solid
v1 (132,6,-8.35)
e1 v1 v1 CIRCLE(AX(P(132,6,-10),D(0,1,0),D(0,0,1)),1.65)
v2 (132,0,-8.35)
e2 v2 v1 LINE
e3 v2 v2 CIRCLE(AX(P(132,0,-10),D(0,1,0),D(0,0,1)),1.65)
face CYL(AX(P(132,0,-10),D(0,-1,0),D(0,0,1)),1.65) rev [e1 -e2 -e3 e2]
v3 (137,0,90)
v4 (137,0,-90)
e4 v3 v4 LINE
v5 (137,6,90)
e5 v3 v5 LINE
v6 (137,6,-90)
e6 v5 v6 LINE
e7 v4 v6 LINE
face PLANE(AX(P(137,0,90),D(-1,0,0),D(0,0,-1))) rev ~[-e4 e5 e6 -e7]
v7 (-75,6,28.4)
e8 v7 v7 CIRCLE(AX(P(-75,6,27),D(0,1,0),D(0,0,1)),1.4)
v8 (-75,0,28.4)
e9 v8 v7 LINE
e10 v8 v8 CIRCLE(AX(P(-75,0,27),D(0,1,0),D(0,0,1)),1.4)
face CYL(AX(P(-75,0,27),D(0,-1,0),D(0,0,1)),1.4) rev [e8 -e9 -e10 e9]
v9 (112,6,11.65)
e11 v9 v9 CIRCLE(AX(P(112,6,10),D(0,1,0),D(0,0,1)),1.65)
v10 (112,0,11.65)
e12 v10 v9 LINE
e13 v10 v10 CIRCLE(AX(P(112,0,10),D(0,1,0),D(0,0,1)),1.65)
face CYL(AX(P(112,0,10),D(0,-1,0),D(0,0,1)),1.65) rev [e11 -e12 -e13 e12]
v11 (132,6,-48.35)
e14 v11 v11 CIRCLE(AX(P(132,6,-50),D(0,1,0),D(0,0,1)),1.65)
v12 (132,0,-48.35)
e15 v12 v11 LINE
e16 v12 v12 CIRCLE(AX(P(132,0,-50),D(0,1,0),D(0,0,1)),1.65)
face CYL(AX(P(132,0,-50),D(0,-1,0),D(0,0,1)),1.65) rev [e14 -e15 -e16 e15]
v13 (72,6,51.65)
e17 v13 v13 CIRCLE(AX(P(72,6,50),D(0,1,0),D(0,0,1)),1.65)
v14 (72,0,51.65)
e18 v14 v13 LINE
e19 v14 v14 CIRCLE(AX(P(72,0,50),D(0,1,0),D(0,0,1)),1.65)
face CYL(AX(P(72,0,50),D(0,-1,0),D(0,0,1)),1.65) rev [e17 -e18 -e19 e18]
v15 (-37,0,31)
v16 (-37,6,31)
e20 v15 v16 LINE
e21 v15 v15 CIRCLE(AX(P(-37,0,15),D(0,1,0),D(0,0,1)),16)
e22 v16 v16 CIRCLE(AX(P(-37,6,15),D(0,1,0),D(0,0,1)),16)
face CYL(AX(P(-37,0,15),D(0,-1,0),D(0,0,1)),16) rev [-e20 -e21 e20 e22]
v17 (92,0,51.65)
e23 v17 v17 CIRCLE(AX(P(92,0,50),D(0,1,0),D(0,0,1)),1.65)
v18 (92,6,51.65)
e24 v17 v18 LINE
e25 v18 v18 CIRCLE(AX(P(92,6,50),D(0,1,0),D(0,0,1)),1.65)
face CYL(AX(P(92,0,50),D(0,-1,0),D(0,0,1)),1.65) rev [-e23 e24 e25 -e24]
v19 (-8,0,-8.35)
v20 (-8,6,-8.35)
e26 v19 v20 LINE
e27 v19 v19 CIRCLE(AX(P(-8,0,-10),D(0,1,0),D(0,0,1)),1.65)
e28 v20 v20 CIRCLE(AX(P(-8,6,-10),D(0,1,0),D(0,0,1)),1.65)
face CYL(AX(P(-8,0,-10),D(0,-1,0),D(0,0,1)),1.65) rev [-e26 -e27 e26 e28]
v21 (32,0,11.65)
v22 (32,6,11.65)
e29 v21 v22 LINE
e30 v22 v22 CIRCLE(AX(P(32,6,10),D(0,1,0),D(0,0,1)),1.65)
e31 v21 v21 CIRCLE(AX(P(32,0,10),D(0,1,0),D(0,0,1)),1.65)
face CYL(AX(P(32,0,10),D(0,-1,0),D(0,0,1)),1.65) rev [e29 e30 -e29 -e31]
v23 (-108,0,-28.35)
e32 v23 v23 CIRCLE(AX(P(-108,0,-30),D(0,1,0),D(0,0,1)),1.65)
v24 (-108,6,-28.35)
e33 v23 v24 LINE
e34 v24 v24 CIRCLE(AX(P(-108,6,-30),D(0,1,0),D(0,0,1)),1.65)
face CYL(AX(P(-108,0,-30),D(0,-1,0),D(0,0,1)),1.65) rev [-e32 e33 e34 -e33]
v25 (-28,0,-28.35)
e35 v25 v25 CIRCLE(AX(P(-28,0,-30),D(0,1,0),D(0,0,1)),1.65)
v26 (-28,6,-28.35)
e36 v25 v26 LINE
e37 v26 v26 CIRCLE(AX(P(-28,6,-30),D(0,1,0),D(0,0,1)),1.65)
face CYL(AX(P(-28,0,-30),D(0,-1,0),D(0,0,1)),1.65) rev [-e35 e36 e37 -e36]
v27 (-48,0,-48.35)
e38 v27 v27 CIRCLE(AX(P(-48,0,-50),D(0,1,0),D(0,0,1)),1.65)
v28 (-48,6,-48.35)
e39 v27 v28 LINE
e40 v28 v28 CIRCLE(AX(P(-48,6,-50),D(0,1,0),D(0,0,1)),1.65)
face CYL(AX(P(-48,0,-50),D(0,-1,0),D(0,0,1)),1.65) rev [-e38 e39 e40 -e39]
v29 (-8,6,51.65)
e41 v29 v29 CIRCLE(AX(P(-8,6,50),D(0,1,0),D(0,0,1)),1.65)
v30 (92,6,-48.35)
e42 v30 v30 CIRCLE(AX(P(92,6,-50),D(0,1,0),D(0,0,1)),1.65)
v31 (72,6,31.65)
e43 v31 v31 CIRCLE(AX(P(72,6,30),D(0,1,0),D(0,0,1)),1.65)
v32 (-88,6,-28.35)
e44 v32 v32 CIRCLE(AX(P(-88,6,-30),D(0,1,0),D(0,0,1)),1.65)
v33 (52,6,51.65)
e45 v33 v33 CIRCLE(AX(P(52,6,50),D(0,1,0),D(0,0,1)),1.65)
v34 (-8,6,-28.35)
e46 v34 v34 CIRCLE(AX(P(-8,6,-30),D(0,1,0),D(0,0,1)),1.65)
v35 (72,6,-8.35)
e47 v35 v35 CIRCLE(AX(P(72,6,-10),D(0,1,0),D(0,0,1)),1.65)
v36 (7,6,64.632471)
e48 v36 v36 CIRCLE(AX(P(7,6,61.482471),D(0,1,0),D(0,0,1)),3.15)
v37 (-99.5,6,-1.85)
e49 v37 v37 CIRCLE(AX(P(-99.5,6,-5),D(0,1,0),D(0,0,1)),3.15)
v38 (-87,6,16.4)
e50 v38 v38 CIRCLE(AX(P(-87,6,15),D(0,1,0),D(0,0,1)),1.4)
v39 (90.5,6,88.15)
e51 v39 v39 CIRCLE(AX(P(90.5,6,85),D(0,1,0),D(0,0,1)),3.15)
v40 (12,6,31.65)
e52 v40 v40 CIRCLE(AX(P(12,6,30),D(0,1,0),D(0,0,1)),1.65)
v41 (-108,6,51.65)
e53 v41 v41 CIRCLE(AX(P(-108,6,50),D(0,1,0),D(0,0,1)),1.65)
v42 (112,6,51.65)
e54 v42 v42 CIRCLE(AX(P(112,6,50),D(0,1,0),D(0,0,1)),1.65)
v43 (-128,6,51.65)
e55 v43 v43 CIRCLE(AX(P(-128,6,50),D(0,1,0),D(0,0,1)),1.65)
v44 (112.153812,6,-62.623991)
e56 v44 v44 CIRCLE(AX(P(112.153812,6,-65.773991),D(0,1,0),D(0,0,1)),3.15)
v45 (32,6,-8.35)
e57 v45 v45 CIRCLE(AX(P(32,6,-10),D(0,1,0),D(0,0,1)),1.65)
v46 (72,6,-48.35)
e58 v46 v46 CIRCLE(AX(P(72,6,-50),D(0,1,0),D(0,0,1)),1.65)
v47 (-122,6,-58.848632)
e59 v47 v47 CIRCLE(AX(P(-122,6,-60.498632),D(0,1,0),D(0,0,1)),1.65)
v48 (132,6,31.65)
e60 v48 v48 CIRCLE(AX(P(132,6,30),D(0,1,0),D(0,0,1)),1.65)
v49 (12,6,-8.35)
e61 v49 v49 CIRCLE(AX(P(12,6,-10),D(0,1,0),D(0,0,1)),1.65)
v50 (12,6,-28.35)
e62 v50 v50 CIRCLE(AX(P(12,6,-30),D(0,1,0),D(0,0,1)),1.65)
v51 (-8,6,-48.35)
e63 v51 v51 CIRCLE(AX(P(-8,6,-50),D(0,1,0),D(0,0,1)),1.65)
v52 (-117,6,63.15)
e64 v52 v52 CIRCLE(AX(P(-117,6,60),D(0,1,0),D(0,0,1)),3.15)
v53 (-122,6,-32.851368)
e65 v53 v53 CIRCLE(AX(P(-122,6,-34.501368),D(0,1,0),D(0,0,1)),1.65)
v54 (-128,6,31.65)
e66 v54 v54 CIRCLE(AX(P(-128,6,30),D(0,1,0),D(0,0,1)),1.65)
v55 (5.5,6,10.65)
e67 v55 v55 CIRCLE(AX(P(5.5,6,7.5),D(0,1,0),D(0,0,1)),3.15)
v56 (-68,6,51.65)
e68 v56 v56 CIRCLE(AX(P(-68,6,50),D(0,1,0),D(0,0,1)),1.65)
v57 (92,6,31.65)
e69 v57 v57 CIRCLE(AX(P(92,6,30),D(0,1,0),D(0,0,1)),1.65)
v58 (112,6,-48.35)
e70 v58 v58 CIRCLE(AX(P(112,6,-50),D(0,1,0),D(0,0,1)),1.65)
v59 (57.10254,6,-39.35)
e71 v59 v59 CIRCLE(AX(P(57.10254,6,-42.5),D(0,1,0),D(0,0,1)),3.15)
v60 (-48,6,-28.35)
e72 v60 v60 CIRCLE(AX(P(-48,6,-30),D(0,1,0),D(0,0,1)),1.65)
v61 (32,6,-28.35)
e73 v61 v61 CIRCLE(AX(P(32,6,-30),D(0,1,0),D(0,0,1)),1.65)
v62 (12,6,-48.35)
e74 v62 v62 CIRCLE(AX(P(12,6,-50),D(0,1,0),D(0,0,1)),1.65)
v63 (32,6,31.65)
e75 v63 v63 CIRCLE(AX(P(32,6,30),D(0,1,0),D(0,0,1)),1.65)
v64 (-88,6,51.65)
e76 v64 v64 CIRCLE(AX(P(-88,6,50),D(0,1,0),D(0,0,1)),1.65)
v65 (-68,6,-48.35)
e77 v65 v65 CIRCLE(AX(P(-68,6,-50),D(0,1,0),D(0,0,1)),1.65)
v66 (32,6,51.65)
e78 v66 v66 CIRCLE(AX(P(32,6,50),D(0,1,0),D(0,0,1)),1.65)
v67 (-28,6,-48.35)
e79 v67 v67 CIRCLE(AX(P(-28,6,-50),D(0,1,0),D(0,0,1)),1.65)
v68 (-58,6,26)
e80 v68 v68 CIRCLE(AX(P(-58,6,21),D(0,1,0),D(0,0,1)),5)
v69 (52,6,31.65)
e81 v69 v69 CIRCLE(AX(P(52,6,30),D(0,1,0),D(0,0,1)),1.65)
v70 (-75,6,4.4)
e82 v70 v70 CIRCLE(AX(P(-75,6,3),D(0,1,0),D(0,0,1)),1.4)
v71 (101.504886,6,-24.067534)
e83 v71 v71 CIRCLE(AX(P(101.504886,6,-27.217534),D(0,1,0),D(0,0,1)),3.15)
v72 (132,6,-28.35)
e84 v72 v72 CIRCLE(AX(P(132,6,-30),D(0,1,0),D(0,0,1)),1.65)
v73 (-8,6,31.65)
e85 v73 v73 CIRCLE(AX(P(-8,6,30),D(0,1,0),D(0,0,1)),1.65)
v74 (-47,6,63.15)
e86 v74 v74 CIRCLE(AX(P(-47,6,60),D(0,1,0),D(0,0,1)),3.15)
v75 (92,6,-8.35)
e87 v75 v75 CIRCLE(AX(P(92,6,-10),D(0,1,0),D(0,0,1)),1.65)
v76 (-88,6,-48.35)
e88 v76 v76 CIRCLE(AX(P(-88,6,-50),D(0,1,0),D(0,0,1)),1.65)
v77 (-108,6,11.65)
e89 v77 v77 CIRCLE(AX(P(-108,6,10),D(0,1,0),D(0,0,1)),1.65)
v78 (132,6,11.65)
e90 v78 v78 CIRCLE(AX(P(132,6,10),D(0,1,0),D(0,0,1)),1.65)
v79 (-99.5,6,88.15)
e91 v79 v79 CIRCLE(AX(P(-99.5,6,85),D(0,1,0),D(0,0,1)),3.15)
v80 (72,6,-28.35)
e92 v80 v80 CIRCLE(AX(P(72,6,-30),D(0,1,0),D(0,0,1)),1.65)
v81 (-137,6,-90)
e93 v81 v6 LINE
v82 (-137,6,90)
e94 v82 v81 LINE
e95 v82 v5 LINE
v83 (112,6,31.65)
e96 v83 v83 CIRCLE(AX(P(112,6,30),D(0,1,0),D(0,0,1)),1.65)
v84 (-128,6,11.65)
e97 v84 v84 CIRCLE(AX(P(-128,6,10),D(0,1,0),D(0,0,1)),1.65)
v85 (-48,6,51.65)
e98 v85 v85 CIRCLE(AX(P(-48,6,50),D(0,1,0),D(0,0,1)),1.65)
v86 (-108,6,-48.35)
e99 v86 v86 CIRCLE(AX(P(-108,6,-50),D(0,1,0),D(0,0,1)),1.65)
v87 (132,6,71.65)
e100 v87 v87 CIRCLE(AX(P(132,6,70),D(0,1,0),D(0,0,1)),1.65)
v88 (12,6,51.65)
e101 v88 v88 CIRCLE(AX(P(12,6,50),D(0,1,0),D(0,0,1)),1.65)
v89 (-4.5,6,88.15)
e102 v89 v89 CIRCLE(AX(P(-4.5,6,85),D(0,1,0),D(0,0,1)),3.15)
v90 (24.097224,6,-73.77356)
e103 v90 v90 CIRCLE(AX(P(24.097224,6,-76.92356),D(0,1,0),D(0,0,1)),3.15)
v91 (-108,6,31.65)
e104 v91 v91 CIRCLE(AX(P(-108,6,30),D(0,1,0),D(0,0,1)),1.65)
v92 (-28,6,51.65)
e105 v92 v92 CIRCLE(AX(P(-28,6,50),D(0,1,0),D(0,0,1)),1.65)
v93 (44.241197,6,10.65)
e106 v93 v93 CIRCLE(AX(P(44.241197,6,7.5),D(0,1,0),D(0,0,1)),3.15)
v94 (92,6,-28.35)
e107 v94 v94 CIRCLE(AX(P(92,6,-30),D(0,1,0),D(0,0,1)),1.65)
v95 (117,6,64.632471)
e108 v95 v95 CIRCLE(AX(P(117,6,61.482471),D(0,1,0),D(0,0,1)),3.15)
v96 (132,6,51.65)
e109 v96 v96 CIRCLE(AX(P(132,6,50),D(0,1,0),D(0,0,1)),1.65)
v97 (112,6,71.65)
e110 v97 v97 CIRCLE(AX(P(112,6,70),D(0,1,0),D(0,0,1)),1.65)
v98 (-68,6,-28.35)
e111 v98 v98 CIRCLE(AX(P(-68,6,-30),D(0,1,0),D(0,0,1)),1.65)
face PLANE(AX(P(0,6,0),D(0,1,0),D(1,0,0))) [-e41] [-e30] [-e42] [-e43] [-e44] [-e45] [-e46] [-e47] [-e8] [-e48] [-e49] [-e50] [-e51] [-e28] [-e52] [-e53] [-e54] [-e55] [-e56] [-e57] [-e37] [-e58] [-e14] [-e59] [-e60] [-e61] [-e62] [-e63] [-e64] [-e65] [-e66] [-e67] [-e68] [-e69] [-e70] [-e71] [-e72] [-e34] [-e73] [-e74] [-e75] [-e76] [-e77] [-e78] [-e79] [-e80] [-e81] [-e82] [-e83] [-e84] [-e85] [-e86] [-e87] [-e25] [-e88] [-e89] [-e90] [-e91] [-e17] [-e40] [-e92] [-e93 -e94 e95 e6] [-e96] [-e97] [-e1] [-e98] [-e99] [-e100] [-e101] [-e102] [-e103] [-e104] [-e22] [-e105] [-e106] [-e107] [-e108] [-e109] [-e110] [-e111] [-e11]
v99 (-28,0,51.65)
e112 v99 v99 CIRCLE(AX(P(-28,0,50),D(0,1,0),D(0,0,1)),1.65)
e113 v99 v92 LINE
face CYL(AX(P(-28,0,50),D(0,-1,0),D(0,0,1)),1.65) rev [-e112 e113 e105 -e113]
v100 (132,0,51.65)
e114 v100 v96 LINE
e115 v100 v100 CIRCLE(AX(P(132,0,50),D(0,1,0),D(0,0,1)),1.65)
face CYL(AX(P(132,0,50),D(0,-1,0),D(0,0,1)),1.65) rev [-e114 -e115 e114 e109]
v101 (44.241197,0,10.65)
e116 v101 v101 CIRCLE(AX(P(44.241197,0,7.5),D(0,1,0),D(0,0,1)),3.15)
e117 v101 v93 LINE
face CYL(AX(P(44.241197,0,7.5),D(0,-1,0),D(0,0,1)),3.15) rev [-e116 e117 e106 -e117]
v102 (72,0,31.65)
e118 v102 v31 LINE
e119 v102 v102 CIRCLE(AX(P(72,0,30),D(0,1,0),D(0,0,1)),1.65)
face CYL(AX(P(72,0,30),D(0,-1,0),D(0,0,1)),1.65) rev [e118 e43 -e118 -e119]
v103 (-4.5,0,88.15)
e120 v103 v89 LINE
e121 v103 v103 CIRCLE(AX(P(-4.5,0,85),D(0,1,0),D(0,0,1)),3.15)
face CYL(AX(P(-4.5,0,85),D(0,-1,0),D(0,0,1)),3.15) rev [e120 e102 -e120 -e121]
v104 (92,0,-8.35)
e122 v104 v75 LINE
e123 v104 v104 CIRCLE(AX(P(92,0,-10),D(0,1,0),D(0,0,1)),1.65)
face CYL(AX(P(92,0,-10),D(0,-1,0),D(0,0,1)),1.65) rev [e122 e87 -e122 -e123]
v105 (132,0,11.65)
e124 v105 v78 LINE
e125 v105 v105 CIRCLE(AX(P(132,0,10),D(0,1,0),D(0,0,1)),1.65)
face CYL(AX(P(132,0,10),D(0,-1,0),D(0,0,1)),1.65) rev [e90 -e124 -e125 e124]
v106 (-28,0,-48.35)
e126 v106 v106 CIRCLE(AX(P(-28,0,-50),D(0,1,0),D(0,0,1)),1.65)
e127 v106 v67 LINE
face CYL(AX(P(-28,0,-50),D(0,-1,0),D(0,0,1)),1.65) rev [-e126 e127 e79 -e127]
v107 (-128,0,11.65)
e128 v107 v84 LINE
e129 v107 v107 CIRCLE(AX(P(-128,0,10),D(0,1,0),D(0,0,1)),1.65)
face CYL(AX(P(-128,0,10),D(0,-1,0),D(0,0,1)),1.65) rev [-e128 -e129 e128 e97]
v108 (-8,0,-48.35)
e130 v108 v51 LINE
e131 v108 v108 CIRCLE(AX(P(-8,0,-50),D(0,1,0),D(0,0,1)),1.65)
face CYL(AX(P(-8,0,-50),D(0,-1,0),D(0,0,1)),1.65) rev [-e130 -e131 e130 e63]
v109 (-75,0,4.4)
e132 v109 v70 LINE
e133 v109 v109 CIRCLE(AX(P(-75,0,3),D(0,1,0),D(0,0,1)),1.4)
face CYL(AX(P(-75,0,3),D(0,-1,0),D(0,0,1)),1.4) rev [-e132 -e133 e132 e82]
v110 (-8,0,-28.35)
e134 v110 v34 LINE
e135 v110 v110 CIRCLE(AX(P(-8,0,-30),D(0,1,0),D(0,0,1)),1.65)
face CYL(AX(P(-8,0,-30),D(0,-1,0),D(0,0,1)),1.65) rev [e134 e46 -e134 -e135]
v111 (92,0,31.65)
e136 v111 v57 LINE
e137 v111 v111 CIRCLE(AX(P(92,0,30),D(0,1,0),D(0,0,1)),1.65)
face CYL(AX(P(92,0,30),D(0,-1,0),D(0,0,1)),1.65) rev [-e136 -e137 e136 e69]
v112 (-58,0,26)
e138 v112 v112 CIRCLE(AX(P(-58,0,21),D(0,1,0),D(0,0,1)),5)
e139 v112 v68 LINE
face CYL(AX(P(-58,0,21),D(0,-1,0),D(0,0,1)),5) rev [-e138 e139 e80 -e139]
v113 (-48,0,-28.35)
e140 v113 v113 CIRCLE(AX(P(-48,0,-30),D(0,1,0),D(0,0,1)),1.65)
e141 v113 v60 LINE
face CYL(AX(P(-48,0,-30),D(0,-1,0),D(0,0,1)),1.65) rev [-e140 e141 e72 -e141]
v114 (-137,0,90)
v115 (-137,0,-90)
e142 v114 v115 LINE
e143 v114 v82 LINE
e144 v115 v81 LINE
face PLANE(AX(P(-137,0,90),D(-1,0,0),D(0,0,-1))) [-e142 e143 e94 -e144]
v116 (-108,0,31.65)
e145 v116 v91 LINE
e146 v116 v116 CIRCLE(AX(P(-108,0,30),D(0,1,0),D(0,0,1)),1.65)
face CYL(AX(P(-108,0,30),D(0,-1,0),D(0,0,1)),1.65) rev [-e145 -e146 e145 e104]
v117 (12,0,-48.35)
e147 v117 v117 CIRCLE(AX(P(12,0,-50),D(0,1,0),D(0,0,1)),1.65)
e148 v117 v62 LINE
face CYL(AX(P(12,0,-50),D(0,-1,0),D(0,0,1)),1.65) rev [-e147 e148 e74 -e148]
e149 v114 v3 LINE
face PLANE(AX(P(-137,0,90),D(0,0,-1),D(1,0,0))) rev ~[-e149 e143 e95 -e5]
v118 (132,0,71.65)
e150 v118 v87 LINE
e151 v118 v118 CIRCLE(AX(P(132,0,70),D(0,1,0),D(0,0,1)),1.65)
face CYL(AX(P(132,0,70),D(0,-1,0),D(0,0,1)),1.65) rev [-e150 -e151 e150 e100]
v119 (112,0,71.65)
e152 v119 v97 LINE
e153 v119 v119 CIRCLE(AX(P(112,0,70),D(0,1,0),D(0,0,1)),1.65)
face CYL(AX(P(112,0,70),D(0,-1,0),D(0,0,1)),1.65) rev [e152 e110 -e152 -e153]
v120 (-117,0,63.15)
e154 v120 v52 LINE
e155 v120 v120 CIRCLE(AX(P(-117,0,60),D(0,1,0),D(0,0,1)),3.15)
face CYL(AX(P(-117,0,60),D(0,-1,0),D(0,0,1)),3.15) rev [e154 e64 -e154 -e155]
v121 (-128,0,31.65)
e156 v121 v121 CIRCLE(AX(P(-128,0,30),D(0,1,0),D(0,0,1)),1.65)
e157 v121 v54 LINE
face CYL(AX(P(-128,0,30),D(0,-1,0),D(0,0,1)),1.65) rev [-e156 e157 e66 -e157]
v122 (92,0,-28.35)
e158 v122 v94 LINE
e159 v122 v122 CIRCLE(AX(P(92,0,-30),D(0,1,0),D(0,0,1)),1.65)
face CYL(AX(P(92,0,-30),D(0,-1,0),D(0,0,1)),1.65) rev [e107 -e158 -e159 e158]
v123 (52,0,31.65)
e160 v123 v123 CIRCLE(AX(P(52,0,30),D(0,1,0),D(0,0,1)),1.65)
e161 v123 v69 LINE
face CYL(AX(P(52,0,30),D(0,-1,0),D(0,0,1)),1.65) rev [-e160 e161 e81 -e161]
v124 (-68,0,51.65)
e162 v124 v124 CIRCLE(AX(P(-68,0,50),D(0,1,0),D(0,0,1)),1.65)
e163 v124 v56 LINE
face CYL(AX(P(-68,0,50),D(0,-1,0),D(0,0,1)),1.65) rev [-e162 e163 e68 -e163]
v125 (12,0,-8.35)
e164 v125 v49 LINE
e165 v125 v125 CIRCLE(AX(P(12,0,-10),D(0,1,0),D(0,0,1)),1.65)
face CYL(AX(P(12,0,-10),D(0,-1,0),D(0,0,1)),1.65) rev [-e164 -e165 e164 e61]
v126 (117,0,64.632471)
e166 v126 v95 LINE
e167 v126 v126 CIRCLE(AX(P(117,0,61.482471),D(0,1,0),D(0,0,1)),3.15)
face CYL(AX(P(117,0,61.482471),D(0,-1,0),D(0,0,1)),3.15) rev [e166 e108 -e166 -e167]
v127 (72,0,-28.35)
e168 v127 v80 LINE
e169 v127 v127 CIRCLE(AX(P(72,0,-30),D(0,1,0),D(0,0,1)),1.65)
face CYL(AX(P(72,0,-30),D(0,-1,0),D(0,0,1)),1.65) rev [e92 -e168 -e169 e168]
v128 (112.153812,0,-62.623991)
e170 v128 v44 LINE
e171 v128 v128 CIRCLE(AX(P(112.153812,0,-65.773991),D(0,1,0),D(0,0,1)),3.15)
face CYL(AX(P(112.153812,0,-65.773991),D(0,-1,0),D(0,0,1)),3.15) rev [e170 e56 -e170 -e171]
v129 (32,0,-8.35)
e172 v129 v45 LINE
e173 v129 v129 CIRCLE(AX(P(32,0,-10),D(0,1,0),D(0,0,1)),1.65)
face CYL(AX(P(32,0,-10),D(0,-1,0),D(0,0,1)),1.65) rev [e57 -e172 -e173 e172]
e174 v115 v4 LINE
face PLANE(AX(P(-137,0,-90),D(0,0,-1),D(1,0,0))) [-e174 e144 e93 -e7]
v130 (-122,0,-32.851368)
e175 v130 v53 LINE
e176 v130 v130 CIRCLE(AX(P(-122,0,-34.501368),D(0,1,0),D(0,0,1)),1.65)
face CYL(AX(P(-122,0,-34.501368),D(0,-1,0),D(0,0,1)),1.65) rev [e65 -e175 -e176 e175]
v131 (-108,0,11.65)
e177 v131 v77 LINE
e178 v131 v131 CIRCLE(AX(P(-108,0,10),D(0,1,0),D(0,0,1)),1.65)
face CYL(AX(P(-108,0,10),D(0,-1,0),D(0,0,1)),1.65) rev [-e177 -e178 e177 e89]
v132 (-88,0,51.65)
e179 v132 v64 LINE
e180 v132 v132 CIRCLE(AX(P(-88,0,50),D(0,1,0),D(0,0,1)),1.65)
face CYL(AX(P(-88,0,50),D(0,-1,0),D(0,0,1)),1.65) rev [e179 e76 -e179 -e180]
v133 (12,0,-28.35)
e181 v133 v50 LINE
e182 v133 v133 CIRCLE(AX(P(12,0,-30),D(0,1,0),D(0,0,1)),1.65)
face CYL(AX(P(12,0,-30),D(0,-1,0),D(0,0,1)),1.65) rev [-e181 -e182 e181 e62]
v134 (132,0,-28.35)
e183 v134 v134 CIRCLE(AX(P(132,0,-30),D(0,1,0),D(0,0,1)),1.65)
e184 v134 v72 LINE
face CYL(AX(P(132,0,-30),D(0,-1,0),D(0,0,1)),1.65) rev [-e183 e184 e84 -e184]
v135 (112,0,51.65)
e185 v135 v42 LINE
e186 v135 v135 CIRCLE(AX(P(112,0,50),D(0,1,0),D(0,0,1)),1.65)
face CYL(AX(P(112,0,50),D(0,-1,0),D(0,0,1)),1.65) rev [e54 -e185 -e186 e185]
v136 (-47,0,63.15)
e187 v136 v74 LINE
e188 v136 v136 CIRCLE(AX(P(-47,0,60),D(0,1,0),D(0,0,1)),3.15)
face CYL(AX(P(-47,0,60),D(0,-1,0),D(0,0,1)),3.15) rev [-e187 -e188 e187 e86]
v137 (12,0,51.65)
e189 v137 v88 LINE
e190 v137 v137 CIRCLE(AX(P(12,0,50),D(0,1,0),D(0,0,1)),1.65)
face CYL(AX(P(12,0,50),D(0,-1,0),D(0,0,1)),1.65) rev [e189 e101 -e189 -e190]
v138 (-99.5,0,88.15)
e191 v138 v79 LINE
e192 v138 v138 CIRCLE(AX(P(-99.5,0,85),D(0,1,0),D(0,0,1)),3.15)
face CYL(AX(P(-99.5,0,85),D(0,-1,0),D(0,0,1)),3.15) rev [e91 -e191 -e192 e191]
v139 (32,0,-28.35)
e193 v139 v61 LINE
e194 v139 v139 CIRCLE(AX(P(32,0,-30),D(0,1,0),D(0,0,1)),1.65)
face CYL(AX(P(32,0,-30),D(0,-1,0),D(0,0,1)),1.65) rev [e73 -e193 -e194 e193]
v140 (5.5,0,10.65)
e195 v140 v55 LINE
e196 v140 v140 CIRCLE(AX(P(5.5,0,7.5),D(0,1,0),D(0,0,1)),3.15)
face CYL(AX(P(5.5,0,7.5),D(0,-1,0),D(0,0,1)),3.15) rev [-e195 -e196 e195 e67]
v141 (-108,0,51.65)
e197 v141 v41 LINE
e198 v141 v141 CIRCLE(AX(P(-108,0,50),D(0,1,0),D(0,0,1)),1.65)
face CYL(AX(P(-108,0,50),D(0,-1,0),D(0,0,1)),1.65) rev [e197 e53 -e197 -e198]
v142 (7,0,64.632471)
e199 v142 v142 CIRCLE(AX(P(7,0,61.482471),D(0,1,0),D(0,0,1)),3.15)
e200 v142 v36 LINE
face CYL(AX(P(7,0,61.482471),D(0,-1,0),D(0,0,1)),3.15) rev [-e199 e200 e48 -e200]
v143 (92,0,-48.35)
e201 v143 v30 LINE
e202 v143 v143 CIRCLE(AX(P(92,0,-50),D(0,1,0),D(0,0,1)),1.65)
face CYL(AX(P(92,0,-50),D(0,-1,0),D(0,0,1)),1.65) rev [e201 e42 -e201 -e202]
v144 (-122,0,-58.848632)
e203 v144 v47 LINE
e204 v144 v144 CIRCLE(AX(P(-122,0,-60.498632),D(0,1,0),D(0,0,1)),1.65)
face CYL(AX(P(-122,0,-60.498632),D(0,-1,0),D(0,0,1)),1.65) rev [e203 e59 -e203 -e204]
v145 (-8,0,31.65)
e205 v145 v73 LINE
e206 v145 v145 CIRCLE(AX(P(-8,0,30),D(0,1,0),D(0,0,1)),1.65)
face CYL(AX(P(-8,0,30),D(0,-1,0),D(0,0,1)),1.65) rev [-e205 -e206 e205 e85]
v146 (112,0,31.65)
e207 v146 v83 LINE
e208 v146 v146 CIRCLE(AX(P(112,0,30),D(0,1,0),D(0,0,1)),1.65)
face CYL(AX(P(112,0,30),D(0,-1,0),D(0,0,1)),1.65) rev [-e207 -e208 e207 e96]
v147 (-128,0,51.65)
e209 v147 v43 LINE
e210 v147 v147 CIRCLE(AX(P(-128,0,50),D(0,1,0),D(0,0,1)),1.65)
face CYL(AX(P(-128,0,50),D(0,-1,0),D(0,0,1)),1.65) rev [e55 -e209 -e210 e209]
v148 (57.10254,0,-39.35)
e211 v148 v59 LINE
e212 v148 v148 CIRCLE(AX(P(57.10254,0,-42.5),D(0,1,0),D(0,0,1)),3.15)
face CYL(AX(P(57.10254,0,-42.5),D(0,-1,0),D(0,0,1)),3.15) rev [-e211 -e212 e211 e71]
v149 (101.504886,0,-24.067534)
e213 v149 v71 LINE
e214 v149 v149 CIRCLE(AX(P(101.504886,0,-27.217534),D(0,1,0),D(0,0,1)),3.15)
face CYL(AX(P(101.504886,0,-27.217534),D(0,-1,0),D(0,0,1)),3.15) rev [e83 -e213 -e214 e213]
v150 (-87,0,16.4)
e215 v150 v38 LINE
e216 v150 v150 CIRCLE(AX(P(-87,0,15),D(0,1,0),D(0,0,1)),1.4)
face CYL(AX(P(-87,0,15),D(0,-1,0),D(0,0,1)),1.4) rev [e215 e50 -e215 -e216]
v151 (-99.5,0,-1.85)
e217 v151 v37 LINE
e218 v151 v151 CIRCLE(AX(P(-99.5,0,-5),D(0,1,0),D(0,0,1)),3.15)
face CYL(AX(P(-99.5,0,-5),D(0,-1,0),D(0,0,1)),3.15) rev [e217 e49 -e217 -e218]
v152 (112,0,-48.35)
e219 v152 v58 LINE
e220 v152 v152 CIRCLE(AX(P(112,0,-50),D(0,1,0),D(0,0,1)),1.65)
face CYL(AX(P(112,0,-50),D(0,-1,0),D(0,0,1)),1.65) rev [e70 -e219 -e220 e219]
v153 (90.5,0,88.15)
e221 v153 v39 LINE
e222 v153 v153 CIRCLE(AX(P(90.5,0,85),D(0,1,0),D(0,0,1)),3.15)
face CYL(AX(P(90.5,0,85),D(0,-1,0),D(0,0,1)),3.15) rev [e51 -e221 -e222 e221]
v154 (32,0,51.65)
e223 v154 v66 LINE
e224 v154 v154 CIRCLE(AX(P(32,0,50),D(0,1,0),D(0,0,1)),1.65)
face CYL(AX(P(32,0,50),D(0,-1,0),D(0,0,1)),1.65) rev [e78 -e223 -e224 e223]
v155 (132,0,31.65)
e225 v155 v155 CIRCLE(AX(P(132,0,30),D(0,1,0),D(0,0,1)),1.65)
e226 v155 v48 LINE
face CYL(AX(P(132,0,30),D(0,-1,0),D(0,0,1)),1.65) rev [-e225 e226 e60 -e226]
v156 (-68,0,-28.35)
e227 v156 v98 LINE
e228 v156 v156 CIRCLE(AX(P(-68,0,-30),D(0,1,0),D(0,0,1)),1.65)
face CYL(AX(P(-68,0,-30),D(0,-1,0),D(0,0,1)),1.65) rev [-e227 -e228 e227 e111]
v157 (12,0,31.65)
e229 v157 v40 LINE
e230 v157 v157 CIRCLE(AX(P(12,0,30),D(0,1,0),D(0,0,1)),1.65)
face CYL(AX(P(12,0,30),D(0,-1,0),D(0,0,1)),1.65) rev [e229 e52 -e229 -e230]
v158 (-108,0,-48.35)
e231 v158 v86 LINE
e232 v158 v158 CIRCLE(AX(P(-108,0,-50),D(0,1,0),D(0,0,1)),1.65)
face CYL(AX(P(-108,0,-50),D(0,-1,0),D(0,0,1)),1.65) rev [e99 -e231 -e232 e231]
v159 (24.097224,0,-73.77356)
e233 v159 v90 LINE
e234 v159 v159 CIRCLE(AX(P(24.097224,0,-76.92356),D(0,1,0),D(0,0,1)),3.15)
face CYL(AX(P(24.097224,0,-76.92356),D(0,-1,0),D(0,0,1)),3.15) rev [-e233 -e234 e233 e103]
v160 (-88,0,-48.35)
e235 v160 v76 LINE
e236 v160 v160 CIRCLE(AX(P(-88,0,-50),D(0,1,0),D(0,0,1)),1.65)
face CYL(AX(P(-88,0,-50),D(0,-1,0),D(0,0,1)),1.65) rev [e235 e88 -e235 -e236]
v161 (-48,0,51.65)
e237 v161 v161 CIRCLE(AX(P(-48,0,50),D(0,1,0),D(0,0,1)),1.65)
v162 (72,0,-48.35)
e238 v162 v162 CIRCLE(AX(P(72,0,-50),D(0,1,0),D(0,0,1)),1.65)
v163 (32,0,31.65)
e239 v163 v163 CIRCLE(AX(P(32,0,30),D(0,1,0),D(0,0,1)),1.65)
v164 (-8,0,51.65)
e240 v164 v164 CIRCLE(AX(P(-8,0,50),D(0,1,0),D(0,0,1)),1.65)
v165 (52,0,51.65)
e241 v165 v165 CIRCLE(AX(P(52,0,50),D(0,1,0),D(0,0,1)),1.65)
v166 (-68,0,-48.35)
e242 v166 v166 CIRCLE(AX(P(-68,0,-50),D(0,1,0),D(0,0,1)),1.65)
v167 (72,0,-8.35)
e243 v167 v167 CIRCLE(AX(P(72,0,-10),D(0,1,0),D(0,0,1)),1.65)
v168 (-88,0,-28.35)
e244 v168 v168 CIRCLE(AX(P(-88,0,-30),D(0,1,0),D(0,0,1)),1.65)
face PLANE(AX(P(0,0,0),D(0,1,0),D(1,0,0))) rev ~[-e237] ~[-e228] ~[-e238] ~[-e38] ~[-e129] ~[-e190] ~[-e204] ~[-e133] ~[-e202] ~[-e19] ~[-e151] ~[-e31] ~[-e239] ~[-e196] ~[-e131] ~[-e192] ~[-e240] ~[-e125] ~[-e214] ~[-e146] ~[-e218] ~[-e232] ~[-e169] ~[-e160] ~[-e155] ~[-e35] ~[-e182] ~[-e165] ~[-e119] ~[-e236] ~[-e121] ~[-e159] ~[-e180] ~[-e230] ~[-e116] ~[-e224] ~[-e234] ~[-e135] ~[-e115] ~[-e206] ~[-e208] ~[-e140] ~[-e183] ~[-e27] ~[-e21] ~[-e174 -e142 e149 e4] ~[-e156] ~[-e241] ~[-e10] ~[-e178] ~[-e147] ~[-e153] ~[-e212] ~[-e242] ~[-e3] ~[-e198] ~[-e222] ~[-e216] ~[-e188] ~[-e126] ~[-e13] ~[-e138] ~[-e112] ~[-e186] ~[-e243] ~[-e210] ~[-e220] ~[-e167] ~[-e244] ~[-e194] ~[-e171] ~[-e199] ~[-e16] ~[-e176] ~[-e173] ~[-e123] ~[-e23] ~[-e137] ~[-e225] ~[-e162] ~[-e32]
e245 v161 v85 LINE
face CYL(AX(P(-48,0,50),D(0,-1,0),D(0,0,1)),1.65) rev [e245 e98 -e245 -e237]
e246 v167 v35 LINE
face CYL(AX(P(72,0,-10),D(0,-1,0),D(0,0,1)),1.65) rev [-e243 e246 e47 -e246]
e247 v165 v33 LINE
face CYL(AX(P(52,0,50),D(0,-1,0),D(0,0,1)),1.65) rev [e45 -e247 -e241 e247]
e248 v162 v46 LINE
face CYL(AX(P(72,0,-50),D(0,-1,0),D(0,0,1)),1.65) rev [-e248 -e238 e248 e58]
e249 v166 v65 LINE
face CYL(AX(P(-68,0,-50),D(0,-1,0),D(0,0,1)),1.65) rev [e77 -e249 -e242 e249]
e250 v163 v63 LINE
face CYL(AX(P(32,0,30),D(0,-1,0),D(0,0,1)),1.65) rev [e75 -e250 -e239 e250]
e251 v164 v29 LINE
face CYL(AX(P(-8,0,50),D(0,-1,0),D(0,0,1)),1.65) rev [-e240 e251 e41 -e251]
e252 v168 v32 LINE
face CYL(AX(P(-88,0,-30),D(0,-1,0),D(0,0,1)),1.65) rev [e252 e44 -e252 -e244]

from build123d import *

# Parameters (mm, degrees)
SKETCH1_W           = 274
SKETCH1_H           = 180
SKETCH1_R           = 1.4
SKETCH1_R_2         = 16
SKETCH1_R_3         = 5
SKETCH1_R_4         = 3.15
SKETCH1_R_5         = 1.65
BOSS_EXTRUDE1_DEPTH = 6


with BuildPart() as part:
    # Sketch1 → Boss-Extrude1 (new body)
    with BuildSketch(Plane(origin=(0, 0, 0), x_dir=(1, 0, 0), z_dir=(0, 1, 0))):
        Rectangle(SKETCH1_W, SKETCH1_H)
        with Locations(Location((-75, -3, 0), (0, 0, 270))):
            Circle(SKETCH1_R, mode=Mode.SUBTRACT)
        with Locations(Location((-87, -15, 0), (0, 0, 270))):
            Circle(SKETCH1_R, mode=Mode.SUBTRACT)
        with Locations(Location((-75, -27, 0), (0, 0, 270))):
            Circle(SKETCH1_R, mode=Mode.SUBTRACT)
        with Locations(Location((-37, -15, 0), (0, 0, 270))):
            Circle(SKETCH1_R_2, mode=Mode.SUBTRACT)
        with Locations(Location((-58, -21, 0), (0, 0, 270))):
            Circle(SKETCH1_R_3, mode=Mode.SUBTRACT)
        with Locations(Location((-99.5, 5, 0), (0, 0, 270))):
            Circle(SKETCH1_R_4, mode=Mode.SUBTRACT)
        with Locations(Location((24.097224397, 76.923560319, 0), (0, 0, 270))):
            Circle(SKETCH1_R_4, mode=Mode.SUBTRACT)
        with Locations(Location((5.5, -7.5, 0), (0, 0, 270))):
            Circle(SKETCH1_R_4, mode=Mode.SUBTRACT)
        with Locations(Location((44.241196746, -7.5, 0), (0, 0, 270))):
            Circle(SKETCH1_R_4, mode=Mode.SUBTRACT)
        with Locations(Location((57.102540378, 42.5, 0), (0, 0, 270))):
            Circle(SKETCH1_R_4, mode=Mode.SUBTRACT)
        with Locations(Location((101.504885591, 27.217533736, 0), (0, 0, 270))):
            Circle(SKETCH1_R_4, mode=Mode.SUBTRACT)
        with Locations(Location((112.15381179, 65.773990664, 0), (0, 0, 270))):
            Circle(SKETCH1_R_4, mode=Mode.SUBTRACT)
        with Locations(Location((90.5, -85, 0), (0, 0, 270))):
            Circle(SKETCH1_R_4, mode=Mode.SUBTRACT)
        with Locations(Location((-4.5, -85, 0), (0, 0, 270))):
            Circle(SKETCH1_R_4, mode=Mode.SUBTRACT)
        with Locations(Location((-99.5, -85, 0), (0, 0, 270))):
            Circle(SKETCH1_R_4, mode=Mode.SUBTRACT)
        with Locations(Location((-122, 60.49863196, 0), (0, 0, 270))):
            Circle(SKETCH1_R_5, mode=Mode.SUBTRACT)
        with Locations(Location((-122, 34.50136804, 0), (0, 0, 270))):
            Circle(SKETCH1_R_5, mode=Mode.SUBTRACT)
        with Locations(Location((-117, -60, 0), (0, 0, 270))):
            Circle(SKETCH1_R_4, mode=Mode.SUBTRACT)
        with Locations(Location((-47, -60, 0), (0, 0, 270))):
            Circle(SKETCH1_R_4, mode=Mode.SUBTRACT)
        with Locations(Location((7, -61.482471058, 0), (0, 0, 270))):
            Circle(SKETCH1_R_4, mode=Mode.SUBTRACT)
        with Locations(Location((117, -61.482471058, 0), (0, 0, 270))):
            Circle(SKETCH1_R_4, mode=Mode.SUBTRACT)
        with Locations(Location((132, 50, 0), (0, 0, 270))):
            Circle(SKETCH1_R_5, mode=Mode.SUBTRACT)
        with Locations(Location((132, 30, 0), (0, 0, 270))):
            Circle(SKETCH1_R_5, mode=Mode.SUBTRACT)
        with Locations(Location((132, 10, 0), (0, 0, 270))):
            Circle(SKETCH1_R_5, mode=Mode.SUBTRACT)
        with Locations(Location((132, -10, 0), (0, 0, 270))):
            Circle(SKETCH1_R_5, mode=Mode.SUBTRACT)
        with Locations(Location((132, -30, 0), (0, 0, 270))):
            Circle(SKETCH1_R_5, mode=Mode.SUBTRACT)
        with Locations(Location((132, -50, 0), (0, 0, 270))):
            Circle(SKETCH1_R_5, mode=Mode.SUBTRACT)
        with Locations(Location((132, -70, 0), (0, 0, 270))):
            Circle(SKETCH1_R_5, mode=Mode.SUBTRACT)
        with Locations(Location((112, 50, 0), (0, 0, 270))):
            Circle(SKETCH1_R_5, mode=Mode.SUBTRACT)
        with Locations(Location((112, -10, 0), (0, 0, 270))):
            Circle(SKETCH1_R_5, mode=Mode.SUBTRACT)
        with Locations(Location((112, -30, 0), (0, 0, 270))):
            Circle(SKETCH1_R_5, mode=Mode.SUBTRACT)
        with Locations(Location((112, -50, 0), (0, 0, 270))):
            Circle(SKETCH1_R_5, mode=Mode.SUBTRACT)
        with Locations(Location((112, -70, 0), (0, 0, 270))):
            Circle(SKETCH1_R_5, mode=Mode.SUBTRACT)
        with Locations(Location((92, 50, 0), (0, 0, 270))):
            Circle(SKETCH1_R_5, mode=Mode.SUBTRACT)
        with Locations(Location((92, 30, 0), (0, 0, 270))):
            Circle(SKETCH1_R_5, mode=Mode.SUBTRACT)
        with Locations(Location((92, 10, 0), (0, 0, 270))):
            Circle(SKETCH1_R_5, mode=Mode.SUBTRACT)
        with Locations(Location((92, -30, 0), (0, 0, 270))):
            Circle(SKETCH1_R_5, mode=Mode.SUBTRACT)
        with Locations(Location((92, -50, 0), (0, 0, 270))):
            Circle(SKETCH1_R_5, mode=Mode.SUBTRACT)
        with Locations(Location((72, 50, 0), (0, 0, 270))):
            Circle(SKETCH1_R_5, mode=Mode.SUBTRACT)
        with Locations(Location((72, 30, 0), (0, 0, 270))):
            Circle(SKETCH1_R_5, mode=Mode.SUBTRACT)
        with Locations(Location((72, 10, 0), (0, 0, 270))):
            Circle(SKETCH1_R_5, mode=Mode.SUBTRACT)
        with Locations(Location((72, -30, 0), (0, 0, 270))):
            Circle(SKETCH1_R_5, mode=Mode.SUBTRACT)
        with Locations(Location((72, -50, 0), (0, 0, 270))):
            Circle(SKETCH1_R_5, mode=Mode.SUBTRACT)
        with Locations(Location((52, -30, 0), (0, 0, 270))):
            Circle(SKETCH1_R_5, mode=Mode.SUBTRACT)
        with Locations(Location((52, -50, 0), (0, 0, 270))):
            Circle(SKETCH1_R_5, mode=Mode.SUBTRACT)
        with Locations(Location((32, 30, 0), (0, 0, 270))):
            Circle(SKETCH1_R_5, mode=Mode.SUBTRACT)
        with Locations(Location((32, 10, 0), (0, 0, 270))):
            Circle(SKETCH1_R_5, mode=Mode.SUBTRACT)
        with Locations(Location((32, -10, 0), (0, 0, 270))):
            Circle(SKETCH1_R_5, mode=Mode.SUBTRACT)
        with Locations(Location((32, -30, 0), (0, 0, 270))):
            Circle(SKETCH1_R_5, mode=Mode.SUBTRACT)
        with Locations(Location((32, -50, 0), (0, 0, 270))):
            Circle(SKETCH1_R_5, mode=Mode.SUBTRACT)
        with Locations(Location((12, 50, 0), (0, 0, 270))):
            Circle(SKETCH1_R_5, mode=Mode.SUBTRACT)
        with Locations(Location((12, 30, 0), (0, 0, 270))):
            Circle(SKETCH1_R_5, mode=Mode.SUBTRACT)
        with Locations(Location((12, 10, 0), (0, 0, 270))):
            Circle(SKETCH1_R_5, mode=Mode.SUBTRACT)
        with Locations(Location((12, -30, 0), (0, 0, 270))):
            Circle(SKETCH1_R_5, mode=Mode.SUBTRACT)
        with Locations(Location((12, -50, 0), (0, 0, 270))):
            Circle(SKETCH1_R_5, mode=Mode.SUBTRACT)
        with Locations(Location((-8, 50, 0), (0, 0, 270))):
            Circle(SKETCH1_R_5, mode=Mode.SUBTRACT)
        with Locations(Location((-8, 30, 0), (0, 0, 270))):
            Circle(SKETCH1_R_5, mode=Mode.SUBTRACT)
        with Locations(Location((-8, 10, 0), (0, 0, 270))):
            Circle(SKETCH1_R_5, mode=Mode.SUBTRACT)
        with Locations(Location((-8, -30, 0), (0, 0, 270))):
            Circle(SKETCH1_R_5, mode=Mode.SUBTRACT)
        with Locations(Location((-8, -50, 0), (0, 0, 270))):
            Circle(SKETCH1_R_5, mode=Mode.SUBTRACT)
        with Locations(Location((-28, 50, 0), (0, 0, 270))):
            Circle(SKETCH1_R_5, mode=Mode.SUBTRACT)
        with Locations(Location((-28, 30, 0), (0, 0, 270))):
            Circle(SKETCH1_R_5, mode=Mode.SUBTRACT)
        with Locations(Location((-28, -50, 0), (0, 0, 270))):
            Circle(SKETCH1_R_5, mode=Mode.SUBTRACT)
        with Locations(Location((-48, 50, 0), (0, 0, 270))):
            Circle(SKETCH1_R_5, mode=Mode.SUBTRACT)
        with Locations(Location((-48, 30, 0), (0, 0, 270))):
            Circle(SKETCH1_R_5, mode=Mode.SUBTRACT)
        with Locations(Location((-48, -50, 0), (0, 0, 270))):
            Circle(SKETCH1_R_5, mode=Mode.SUBTRACT)
        with Locations(Location((-68, 50, 0), (0, 0, 270))):
            Circle(SKETCH1_R_5, mode=Mode.SUBTRACT)
        with Locations(Location((-68, 30, 0), (0, 0, 270))):
            Circle(SKETCH1_R_5, mode=Mode.SUBTRACT)
        with Locations(Location((-68, -50, 0), (0, 0, 270))):
            Circle(SKETCH1_R_5, mode=Mode.SUBTRACT)
        with Locations(Location((-88, 50, 0), (0, 0, 270))):
            Circle(SKETCH1_R_5, mode=Mode.SUBTRACT)
        with Locations(Location((-88, 30, 0), (0, 0, 270))):
            Circle(SKETCH1_R_5, mode=Mode.SUBTRACT)
        with Locations(Location((-88, -50, 0), (0, 0, 270))):
            Circle(SKETCH1_R_5, mode=Mode.SUBTRACT)
        with Locations(Location((-108, 50, 0), (0, 0, 270))):
            Circle(SKETCH1_R_5, mode=Mode.SUBTRACT)
        with Locations(Location((-108, 30, 0), (0, 0, 270))):
            Circle(SKETCH1_R_5, mode=Mode.SUBTRACT)
        with Locations(Location((-108, -10, 0), (0, 0, 270))):
            Circle(SKETCH1_R_5, mode=Mode.SUBTRACT)
        with Locations(Location((-108, -30, 0), (0, 0, 270))):
            Circle(SKETCH1_R_5, mode=Mode.SUBTRACT)
        with Locations(Location((-108, -50, 0), (0, 0, 270))):
            Circle(SKETCH1_R_5, mode=Mode.SUBTRACT)
        with Locations(Location((-128, -10, 0), (0, 0, 270))):
            Circle(SKETCH1_R_5, mode=Mode.SUBTRACT)
        with Locations(Location((-128, -30, 0), (0, 0, 270))):
            Circle(SKETCH1_R_5, mode=Mode.SUBTRACT)
        with Locations(Location((-128, -50, 0), (0, 0, 270))):
            Circle(SKETCH1_R_5, mode=Mode.SUBTRACT)
    extrude(amount=BOSS_EXTRUDE1_DEPTH)


solid = part.part
